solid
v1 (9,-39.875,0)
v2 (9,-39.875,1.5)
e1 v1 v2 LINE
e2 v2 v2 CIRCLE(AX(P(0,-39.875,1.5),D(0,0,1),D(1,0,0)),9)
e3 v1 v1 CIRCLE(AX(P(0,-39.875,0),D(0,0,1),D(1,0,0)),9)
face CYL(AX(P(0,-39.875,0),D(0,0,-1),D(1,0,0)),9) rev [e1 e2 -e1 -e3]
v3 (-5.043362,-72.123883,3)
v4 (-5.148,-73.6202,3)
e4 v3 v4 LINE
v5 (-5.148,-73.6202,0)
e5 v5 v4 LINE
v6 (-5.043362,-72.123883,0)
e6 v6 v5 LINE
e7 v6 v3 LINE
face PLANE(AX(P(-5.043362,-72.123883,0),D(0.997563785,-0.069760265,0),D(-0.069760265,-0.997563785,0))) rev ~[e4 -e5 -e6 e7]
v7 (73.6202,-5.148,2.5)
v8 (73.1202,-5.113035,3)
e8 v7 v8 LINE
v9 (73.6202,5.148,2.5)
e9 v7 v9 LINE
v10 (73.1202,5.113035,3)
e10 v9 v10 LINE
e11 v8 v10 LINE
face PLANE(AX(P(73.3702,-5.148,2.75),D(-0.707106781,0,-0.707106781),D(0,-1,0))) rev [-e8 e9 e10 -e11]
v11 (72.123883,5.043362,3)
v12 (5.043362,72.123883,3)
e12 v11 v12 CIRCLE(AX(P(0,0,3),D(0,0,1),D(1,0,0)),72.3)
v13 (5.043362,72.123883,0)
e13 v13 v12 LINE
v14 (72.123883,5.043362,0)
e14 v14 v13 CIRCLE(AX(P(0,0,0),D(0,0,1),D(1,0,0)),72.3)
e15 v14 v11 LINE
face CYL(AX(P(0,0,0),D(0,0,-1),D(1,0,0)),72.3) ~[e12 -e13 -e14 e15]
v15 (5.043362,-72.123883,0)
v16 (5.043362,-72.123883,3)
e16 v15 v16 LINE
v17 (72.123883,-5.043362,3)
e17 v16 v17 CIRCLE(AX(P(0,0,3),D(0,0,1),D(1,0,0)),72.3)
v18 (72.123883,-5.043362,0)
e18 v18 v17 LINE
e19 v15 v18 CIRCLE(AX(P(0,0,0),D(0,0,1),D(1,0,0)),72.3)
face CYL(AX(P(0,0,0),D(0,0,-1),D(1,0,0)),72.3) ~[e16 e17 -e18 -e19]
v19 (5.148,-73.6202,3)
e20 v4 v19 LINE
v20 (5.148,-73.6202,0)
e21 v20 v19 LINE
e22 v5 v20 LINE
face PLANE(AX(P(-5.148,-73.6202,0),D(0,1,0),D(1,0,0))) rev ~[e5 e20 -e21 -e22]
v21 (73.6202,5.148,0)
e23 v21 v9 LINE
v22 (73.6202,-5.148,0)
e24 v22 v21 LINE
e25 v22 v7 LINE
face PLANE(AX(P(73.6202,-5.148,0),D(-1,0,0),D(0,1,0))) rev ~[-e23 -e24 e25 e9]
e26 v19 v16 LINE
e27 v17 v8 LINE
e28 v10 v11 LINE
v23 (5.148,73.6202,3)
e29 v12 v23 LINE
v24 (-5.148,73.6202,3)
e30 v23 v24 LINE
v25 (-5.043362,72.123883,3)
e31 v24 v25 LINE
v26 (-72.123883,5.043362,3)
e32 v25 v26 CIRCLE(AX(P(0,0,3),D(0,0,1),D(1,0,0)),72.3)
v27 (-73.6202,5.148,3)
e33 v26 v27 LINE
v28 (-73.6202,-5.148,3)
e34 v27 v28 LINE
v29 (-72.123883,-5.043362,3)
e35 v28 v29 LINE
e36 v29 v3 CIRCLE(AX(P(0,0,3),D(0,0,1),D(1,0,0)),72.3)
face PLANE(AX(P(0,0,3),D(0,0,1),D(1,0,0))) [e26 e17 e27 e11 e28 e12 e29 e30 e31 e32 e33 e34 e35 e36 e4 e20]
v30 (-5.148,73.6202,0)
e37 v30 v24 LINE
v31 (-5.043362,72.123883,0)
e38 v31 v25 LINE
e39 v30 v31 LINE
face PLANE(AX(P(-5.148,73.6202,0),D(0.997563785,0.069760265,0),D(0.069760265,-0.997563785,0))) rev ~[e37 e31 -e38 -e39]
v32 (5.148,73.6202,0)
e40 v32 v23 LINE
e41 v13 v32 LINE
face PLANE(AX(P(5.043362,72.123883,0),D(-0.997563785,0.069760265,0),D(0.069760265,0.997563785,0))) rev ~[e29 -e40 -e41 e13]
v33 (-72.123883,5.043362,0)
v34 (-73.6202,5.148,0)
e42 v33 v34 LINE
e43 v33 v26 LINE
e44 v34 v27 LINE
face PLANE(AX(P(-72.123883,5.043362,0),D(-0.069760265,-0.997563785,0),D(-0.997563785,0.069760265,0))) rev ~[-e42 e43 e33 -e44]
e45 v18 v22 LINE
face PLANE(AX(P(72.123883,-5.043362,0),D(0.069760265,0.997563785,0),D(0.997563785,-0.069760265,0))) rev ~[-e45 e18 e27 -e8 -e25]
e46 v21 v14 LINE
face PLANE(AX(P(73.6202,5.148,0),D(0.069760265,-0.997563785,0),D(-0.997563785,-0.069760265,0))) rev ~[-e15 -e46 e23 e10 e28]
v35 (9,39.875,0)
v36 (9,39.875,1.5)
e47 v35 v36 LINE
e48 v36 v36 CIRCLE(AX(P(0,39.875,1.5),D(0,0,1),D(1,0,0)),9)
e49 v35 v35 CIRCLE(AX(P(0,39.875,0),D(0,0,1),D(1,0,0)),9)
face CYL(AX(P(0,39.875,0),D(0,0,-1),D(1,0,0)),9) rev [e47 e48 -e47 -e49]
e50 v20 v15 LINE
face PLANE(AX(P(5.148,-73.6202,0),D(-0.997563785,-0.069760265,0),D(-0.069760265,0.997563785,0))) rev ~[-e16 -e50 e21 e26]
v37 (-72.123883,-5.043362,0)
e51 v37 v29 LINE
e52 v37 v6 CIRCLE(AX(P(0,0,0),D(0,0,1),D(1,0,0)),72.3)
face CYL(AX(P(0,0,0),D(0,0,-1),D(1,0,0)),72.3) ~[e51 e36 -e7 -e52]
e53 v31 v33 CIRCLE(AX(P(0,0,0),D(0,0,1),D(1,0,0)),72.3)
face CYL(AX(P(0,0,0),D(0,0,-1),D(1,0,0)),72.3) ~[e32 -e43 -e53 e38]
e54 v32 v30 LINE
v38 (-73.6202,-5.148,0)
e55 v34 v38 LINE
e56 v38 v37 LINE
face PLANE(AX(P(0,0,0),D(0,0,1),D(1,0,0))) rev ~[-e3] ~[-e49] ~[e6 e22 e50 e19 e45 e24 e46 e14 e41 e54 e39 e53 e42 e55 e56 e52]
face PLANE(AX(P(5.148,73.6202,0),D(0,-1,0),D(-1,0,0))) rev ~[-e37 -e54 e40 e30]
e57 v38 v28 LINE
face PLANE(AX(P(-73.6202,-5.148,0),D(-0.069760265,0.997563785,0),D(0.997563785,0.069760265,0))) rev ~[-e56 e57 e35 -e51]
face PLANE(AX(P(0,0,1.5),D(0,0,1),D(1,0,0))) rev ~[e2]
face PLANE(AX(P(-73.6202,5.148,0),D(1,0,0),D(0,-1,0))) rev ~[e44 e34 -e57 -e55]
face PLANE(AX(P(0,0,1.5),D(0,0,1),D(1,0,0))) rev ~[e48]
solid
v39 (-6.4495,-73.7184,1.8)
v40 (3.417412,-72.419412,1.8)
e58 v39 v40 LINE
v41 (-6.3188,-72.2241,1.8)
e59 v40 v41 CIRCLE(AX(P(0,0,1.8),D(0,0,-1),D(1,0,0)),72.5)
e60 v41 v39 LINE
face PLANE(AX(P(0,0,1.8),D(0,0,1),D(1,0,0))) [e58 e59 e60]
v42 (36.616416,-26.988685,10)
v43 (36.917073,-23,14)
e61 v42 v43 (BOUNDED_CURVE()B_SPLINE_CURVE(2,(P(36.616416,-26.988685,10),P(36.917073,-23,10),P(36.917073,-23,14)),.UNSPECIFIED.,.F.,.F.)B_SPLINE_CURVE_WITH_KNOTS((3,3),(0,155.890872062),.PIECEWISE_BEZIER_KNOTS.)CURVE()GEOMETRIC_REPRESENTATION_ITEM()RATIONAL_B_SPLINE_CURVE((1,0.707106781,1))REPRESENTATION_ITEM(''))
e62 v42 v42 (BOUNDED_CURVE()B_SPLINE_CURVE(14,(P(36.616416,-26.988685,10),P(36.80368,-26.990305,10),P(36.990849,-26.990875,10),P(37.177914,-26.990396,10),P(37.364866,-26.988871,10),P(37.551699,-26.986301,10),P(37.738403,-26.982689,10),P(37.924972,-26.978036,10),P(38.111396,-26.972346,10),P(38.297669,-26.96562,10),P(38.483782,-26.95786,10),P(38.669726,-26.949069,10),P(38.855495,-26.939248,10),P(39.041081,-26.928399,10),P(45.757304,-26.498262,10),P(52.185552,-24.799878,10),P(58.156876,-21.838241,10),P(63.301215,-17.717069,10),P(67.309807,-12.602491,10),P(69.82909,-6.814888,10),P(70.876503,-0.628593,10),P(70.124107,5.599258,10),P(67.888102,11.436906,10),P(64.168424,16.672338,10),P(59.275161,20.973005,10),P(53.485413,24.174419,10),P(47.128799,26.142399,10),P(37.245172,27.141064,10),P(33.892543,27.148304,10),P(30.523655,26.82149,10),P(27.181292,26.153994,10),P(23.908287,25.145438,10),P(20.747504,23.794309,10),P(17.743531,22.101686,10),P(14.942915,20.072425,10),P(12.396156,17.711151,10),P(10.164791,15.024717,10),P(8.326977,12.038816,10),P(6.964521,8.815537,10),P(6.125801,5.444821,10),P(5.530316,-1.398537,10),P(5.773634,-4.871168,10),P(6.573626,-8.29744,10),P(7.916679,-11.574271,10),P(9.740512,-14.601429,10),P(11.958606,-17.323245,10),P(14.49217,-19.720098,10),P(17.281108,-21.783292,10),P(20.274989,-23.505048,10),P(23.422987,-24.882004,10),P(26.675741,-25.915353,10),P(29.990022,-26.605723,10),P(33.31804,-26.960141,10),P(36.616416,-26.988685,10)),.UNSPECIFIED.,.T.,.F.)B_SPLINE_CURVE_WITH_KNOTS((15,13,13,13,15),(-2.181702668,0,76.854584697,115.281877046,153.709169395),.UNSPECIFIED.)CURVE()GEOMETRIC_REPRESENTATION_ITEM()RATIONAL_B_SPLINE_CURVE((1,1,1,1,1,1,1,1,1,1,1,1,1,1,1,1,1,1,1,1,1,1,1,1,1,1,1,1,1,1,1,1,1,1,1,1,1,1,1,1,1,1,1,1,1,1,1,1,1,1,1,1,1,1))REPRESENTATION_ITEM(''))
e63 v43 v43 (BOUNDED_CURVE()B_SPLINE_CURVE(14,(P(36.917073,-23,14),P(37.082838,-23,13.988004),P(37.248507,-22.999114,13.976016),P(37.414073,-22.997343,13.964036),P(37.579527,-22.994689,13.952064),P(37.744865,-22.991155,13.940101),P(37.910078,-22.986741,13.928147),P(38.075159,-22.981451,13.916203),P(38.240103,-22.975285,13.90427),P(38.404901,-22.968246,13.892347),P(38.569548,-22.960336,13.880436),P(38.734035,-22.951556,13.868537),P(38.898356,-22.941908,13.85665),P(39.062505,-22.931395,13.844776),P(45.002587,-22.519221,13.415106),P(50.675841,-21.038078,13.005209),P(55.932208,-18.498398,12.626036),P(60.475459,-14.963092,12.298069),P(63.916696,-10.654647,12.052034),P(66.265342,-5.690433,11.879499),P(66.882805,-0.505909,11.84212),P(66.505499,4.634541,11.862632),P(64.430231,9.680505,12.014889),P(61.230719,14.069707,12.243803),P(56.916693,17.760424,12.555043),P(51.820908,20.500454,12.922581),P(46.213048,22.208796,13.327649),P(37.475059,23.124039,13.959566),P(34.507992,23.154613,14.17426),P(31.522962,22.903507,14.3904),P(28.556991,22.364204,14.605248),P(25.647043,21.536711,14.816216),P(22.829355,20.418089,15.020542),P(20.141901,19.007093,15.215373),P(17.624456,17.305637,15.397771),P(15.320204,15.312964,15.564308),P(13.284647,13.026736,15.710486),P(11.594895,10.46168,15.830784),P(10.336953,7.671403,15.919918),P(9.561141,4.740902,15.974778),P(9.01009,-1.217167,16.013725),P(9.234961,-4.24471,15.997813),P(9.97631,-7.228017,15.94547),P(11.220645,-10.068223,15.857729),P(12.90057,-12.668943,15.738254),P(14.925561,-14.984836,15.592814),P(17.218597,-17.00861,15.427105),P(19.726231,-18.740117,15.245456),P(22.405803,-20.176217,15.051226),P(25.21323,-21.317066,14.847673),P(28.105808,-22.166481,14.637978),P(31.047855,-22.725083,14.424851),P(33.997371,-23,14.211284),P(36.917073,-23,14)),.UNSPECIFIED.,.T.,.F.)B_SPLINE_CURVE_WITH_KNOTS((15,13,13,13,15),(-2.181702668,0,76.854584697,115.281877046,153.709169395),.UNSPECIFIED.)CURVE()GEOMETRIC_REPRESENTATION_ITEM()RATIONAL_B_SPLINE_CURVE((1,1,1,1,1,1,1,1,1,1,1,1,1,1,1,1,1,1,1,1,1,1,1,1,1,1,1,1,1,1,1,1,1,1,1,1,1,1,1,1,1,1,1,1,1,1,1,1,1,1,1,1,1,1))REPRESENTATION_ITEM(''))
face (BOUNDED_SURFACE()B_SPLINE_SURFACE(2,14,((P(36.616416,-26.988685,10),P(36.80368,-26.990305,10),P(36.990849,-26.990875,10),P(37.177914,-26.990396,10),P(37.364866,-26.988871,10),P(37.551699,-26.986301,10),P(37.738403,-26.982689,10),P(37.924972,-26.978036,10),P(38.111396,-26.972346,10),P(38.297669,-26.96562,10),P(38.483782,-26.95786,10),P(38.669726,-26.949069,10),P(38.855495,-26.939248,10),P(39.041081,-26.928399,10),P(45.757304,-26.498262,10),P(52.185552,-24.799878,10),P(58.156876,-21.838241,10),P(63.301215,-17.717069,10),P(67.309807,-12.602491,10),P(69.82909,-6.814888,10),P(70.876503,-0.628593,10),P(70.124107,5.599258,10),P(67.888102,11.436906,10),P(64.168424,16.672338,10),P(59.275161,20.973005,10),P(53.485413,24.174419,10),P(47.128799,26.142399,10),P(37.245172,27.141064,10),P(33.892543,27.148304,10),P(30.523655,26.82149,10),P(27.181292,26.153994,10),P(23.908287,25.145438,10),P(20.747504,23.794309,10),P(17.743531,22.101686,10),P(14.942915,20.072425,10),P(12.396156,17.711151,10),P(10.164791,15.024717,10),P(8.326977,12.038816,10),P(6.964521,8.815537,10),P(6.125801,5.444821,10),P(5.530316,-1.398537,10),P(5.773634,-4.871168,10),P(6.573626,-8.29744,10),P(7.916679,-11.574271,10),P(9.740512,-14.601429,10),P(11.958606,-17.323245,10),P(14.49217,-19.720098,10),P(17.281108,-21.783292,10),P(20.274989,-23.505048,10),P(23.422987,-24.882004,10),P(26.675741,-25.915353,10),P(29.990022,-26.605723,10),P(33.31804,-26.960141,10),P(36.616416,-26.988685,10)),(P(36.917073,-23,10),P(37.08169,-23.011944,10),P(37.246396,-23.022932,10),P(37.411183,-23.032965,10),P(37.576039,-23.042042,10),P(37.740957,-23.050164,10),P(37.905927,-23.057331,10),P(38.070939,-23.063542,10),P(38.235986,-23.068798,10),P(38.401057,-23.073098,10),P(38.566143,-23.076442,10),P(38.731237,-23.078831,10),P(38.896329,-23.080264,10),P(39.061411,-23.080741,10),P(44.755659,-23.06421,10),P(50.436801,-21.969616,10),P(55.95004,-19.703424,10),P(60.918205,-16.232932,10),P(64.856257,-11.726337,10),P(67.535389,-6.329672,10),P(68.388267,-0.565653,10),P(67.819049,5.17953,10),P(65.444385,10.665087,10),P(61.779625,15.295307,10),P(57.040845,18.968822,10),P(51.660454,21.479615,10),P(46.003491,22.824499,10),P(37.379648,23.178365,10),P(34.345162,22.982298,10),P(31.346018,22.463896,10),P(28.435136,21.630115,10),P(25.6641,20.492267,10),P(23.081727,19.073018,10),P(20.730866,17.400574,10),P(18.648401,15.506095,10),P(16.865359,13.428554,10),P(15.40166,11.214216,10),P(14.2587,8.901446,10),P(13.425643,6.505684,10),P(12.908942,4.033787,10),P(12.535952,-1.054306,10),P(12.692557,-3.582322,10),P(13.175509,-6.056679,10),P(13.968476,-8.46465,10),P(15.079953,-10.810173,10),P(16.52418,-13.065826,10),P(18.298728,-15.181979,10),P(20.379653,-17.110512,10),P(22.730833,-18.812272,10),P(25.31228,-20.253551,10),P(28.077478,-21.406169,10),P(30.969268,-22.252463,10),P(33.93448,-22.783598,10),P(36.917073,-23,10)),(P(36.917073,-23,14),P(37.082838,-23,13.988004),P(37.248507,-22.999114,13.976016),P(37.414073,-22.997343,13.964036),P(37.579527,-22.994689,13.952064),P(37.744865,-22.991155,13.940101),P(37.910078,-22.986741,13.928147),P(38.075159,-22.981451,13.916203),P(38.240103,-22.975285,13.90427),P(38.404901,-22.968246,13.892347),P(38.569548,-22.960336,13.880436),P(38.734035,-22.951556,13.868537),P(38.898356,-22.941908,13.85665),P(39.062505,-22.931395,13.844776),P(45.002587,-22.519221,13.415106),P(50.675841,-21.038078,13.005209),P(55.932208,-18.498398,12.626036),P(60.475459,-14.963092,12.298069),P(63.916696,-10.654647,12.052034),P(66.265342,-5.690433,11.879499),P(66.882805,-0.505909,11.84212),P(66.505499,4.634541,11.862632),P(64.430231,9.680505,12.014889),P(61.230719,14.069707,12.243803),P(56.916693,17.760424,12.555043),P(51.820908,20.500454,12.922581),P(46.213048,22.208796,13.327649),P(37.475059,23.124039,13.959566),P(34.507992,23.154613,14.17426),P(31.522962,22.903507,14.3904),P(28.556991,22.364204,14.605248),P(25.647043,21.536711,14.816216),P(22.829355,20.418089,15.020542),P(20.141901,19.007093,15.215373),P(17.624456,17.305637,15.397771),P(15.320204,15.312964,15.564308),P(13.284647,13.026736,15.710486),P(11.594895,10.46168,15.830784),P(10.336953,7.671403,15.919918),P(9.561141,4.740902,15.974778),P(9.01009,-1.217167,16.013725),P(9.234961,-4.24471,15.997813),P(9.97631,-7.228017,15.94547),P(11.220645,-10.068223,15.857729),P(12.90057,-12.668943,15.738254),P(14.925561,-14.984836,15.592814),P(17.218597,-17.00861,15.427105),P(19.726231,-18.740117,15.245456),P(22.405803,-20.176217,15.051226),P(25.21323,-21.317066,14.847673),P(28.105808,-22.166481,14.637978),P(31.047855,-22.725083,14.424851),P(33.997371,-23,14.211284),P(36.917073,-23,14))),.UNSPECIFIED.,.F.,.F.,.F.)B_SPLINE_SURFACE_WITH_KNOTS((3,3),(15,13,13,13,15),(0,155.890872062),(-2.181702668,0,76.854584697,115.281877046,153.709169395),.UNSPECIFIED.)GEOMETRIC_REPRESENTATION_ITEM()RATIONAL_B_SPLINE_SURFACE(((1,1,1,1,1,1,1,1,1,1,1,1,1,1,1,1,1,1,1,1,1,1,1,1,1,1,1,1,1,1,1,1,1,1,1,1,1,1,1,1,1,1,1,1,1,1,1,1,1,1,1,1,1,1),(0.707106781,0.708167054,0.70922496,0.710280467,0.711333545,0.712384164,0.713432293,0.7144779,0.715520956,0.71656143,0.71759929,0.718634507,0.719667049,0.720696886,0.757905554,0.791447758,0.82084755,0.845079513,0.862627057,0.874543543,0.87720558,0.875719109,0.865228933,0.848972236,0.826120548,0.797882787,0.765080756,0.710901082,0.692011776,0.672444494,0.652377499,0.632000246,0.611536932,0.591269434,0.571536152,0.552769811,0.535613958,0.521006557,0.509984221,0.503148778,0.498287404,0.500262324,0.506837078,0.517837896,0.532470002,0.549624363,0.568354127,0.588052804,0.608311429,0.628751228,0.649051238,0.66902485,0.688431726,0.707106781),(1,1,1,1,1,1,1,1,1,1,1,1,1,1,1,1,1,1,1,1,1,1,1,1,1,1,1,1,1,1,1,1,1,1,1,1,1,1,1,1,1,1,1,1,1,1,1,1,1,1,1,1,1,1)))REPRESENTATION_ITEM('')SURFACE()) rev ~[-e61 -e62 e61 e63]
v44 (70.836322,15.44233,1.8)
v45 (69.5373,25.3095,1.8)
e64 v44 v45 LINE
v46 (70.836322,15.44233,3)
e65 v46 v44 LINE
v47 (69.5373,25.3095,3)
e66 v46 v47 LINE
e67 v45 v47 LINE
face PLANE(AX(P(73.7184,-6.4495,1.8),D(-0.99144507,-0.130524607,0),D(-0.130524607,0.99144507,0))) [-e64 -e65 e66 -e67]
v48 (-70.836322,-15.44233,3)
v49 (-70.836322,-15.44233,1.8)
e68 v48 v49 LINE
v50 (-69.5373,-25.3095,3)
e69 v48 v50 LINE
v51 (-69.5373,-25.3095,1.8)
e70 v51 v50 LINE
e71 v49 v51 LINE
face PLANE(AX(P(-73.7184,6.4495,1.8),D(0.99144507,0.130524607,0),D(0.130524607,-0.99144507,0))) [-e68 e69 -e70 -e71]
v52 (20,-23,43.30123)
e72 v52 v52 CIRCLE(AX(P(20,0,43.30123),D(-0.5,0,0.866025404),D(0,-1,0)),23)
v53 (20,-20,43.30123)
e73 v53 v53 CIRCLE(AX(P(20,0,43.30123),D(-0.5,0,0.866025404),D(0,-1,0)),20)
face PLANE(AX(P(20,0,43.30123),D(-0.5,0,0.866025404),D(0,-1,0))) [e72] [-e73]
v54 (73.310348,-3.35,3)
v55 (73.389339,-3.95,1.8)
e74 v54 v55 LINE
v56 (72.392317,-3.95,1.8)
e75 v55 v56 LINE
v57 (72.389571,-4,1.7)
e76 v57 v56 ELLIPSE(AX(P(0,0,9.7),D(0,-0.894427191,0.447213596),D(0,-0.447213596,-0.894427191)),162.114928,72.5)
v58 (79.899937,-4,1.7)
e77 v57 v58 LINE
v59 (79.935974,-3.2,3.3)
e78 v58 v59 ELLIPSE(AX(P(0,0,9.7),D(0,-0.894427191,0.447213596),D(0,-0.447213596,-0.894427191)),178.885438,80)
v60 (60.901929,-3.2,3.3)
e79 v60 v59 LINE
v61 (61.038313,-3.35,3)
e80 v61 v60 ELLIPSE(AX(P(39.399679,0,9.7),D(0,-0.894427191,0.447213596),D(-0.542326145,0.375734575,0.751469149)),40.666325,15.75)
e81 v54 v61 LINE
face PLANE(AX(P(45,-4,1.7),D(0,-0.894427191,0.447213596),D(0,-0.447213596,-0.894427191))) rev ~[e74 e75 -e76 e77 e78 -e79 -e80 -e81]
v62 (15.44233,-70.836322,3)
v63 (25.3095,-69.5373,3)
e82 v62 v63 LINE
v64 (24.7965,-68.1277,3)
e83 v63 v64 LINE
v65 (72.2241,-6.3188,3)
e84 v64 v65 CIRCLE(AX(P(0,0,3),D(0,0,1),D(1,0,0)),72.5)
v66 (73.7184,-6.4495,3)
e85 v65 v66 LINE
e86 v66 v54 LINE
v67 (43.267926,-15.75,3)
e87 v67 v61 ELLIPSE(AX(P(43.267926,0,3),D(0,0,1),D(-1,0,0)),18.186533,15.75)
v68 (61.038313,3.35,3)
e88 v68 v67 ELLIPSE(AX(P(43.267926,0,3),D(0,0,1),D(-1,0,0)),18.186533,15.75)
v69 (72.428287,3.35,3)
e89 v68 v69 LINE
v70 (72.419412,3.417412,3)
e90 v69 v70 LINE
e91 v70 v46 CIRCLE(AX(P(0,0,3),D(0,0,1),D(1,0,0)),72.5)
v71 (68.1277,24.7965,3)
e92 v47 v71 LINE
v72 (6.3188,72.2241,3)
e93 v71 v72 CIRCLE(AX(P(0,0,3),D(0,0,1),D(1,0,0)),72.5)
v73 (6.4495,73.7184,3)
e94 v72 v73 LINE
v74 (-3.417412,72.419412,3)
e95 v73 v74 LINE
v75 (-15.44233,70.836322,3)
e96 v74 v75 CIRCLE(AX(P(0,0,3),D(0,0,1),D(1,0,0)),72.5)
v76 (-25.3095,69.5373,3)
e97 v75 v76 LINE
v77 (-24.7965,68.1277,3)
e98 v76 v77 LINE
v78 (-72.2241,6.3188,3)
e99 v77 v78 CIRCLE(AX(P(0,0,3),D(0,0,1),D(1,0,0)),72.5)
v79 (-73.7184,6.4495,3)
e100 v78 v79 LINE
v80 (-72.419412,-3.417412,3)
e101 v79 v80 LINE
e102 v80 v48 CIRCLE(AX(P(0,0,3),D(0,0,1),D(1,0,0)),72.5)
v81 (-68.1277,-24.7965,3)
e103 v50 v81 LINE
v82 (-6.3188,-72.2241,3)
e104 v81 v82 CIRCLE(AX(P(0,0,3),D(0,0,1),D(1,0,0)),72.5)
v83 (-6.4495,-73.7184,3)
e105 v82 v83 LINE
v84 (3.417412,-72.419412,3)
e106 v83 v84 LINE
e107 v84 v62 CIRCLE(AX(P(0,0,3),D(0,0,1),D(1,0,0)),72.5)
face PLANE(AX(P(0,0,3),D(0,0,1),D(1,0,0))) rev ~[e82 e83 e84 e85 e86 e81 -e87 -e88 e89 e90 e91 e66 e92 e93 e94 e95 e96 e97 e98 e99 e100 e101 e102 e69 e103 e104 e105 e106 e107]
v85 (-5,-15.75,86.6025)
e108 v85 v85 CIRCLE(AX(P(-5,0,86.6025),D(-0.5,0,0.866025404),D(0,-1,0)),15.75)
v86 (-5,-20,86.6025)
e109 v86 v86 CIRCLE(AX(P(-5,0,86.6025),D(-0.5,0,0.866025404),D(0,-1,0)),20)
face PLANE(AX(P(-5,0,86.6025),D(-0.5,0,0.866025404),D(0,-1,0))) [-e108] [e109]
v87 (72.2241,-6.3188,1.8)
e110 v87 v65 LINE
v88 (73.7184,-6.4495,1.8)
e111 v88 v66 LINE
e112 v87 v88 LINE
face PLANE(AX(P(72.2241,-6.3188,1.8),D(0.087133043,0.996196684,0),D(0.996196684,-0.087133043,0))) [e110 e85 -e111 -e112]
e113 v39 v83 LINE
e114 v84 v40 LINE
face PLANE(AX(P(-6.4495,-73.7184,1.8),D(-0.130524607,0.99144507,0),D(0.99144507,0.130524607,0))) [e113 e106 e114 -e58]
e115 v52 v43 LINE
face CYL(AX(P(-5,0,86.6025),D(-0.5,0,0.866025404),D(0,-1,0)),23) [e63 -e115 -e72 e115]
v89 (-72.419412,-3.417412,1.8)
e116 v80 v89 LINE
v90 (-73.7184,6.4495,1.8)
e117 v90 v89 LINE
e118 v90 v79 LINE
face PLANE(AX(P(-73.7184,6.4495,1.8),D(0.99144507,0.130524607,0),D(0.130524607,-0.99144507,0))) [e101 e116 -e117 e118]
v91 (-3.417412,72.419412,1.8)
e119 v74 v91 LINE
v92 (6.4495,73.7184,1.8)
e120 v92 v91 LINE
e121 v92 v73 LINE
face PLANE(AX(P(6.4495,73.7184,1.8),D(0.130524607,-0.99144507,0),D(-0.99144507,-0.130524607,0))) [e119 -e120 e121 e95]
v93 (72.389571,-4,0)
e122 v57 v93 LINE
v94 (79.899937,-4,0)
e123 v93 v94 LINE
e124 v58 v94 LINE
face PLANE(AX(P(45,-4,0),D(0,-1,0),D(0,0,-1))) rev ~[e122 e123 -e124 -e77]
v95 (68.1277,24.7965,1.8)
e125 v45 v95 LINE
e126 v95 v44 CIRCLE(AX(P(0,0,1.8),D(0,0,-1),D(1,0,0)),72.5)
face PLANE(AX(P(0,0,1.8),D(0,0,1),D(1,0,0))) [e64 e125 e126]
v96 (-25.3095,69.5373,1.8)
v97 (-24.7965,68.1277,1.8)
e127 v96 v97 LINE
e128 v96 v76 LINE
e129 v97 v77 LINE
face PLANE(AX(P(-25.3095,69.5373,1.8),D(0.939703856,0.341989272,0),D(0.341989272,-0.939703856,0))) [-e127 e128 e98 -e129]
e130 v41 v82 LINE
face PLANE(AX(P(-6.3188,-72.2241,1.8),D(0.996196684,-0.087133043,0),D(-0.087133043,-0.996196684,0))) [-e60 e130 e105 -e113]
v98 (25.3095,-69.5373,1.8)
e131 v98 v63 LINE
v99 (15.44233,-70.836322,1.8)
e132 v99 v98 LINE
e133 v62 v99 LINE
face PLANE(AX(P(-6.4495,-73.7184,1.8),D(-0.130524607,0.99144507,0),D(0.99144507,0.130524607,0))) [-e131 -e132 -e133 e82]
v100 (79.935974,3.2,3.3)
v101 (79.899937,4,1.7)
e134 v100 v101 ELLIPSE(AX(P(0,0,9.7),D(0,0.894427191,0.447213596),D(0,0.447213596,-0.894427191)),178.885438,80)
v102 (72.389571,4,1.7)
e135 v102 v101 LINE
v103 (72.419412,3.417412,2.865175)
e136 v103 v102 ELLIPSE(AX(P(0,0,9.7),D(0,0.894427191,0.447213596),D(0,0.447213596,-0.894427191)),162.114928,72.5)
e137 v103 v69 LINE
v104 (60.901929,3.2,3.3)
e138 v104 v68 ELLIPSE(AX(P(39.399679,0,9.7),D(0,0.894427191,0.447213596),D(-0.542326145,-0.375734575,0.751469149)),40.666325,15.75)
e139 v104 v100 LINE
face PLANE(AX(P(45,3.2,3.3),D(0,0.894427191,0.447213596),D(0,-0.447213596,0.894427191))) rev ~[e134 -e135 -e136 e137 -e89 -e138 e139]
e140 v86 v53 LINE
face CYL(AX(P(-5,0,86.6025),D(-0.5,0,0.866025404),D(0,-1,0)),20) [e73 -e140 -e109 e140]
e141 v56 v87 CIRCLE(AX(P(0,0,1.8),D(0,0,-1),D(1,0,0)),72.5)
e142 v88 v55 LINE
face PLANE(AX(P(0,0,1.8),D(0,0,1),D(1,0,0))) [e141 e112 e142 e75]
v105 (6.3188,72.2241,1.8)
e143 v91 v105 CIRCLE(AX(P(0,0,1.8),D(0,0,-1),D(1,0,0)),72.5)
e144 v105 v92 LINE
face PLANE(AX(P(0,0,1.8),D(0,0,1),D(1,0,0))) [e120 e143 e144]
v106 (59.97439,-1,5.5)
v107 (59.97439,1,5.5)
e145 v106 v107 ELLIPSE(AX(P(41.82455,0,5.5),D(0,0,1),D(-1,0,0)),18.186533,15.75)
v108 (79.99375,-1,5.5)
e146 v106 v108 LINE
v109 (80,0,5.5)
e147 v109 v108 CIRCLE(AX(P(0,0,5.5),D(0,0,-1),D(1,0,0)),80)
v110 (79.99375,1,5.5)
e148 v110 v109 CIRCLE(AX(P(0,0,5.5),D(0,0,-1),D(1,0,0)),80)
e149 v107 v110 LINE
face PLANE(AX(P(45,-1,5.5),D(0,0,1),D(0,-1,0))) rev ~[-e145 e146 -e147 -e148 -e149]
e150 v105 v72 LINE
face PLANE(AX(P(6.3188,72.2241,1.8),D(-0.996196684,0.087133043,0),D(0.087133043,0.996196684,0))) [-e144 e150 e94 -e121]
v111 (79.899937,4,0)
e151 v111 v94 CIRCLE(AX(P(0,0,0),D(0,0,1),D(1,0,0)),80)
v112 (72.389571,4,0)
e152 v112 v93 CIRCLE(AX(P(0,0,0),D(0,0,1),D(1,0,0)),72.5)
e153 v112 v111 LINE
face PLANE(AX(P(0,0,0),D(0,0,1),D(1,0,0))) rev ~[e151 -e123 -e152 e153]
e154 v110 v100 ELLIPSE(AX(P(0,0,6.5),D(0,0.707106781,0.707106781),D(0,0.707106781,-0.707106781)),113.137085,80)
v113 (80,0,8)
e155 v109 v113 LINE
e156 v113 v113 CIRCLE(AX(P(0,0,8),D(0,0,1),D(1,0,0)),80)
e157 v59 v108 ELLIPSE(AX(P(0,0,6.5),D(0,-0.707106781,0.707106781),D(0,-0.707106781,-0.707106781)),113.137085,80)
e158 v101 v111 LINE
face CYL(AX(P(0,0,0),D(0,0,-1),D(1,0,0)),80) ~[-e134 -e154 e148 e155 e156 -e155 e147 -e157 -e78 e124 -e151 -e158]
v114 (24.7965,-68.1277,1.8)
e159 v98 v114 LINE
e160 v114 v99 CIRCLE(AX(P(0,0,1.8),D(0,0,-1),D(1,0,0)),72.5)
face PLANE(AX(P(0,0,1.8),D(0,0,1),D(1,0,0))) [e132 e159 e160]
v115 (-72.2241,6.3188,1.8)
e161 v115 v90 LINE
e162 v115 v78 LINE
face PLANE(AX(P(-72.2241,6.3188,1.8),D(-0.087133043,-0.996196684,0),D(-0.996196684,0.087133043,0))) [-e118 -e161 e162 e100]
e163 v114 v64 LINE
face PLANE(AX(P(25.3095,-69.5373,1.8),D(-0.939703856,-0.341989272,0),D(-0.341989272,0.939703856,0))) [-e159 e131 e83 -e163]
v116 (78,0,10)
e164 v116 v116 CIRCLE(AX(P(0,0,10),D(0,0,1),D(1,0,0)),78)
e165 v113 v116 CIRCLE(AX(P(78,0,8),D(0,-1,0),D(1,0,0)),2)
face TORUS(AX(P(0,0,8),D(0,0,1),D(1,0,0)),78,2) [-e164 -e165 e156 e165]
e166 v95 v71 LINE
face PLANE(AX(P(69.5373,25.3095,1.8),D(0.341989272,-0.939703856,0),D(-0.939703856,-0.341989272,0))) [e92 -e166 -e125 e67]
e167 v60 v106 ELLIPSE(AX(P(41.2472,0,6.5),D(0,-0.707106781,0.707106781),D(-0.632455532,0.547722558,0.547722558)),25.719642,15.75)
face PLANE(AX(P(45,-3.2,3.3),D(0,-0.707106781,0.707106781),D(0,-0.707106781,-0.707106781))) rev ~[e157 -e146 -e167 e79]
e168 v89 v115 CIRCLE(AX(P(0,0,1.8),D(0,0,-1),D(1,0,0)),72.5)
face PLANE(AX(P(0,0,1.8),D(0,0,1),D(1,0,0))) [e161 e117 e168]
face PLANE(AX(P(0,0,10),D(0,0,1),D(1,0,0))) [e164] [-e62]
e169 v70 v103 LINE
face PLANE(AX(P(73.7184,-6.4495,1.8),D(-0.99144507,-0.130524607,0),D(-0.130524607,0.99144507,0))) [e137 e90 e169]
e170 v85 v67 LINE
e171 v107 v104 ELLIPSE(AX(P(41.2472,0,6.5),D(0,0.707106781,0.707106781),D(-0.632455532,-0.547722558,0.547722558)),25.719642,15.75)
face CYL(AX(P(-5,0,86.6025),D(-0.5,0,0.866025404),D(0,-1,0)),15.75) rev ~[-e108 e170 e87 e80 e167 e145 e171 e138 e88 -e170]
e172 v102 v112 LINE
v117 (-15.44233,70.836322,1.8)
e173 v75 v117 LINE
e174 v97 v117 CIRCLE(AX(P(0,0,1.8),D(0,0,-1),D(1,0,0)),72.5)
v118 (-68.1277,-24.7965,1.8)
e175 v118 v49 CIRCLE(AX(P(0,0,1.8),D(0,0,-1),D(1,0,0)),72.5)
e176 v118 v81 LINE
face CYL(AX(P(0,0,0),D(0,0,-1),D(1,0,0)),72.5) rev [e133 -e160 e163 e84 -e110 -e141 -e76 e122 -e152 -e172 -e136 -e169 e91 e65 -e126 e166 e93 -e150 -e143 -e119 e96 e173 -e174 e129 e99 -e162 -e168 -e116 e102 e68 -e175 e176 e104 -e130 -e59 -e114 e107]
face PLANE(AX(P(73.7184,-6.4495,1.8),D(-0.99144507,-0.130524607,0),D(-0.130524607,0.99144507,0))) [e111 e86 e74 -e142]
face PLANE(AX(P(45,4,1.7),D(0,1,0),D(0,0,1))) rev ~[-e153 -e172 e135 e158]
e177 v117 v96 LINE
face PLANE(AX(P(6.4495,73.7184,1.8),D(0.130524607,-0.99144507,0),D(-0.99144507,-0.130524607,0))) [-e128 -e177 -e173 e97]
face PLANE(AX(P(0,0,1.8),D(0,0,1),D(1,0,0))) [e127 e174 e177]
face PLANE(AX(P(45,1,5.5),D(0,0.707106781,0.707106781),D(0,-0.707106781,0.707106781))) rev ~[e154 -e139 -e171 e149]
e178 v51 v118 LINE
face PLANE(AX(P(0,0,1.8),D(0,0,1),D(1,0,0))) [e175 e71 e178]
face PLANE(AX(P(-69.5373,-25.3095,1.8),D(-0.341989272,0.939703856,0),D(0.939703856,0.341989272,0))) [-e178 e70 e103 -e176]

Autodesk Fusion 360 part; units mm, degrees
sketch "Skizze1" plane through (0, 0, 0) normal (0, 0, 1) x (1, 0, 0)
  circle A0 centre (0, 0) radius 80
extrude "Extrusion1" add sketch "Skizze1" along normal blind 10 makes body 1
fillet "Abrundung1" radius 2 1 edges at (-74.5862, -28.9292, 10) on bodies 1
sketch "Skizze2" plane through (0, 0, 0) normal (0, 1, 0) x (1, 0, 0)
  line L0 (45, 0) -> (-5, -86.6025) construction
ref_plane "Arbeitsebene1" through (-5, 0, 86.6025) normal (-0.5, 0, 0.866) x (0, -1, 0)
sketch "Skizze3" plane through (-5, 0, 86.6025) normal (-0.5, 0, 0.866) x (0, -1, 0)
  circle A0 centre (0, 0) radius 23
  circle A1 centre (0, 0) radius 20
extrude "Extrusion5" add sketch "Skizze3" against normal blind 110 separate body contours A0 | A1 makes body 2
combine "Kombinieren1" operation add target body 1 tool bodies 2
extrude "Extrusion6" cut sketch "Skizze3" against normal blind 50 bodies 1
fillet "Abrundung2" radius 4 3 edges at (65.7846, 0, 10) (-74.5862, -28.9292, 8) (-72.7215, 28.206, 10) on bodies 1
sketch "Skizze4" plane through (-5, 0, 86.6025) normal (-0.5, 0, 0.866) x (0, -1, 0)
  circle A0 centre (0, 0) radius 15.75
extrude "Extrusion7" cut sketch "Skizze4" against normal blind 110 bodies 1
sketch "Skizze5" plane through (0, 0, 0) normal (0, 0, 1) x (1, 0, 0)
  circle A0 centre (0, 0) radius 160
extrude "Extrusion8" cut sketch "Skizze5" against normal blind 110 bodies 1
sketch "Skizze6" plane through (0, 0, 0) normal (0, 0, 1) x (1, 0, 0)
  line L0 (45, 0) -> (85, 0)
ref_plane "Arbeitsebene2" through (45, 0, 0) normal (1, 0, 0) x (0, 1, 0)
sketch "Skizze7" plane through (45, 0, 0) normal (1, 0, 0) x (0, 1, 0)
  line L0 (-4, 0) -> (-4, 1.7)
  line L1 (-4, 1.7) -> (-3.2, 3.3)
  line L2 (-3.2, 3.3) -> (-1, 5.5)
  line L3 (-1, 5.5) -> (1, 5.5)
  line L4 (1, 5.5) -> (3.2, 3.3)
  line L5 (3.2, 3.3) -> (4, 1.7)
  line L6 (4, 1.7) -> (4, 0)
  line L7 (4, 0) -> (-4, 0)
sweep "Sweeping1" cut profiles "Skizze7" path "Skizze6" along L0 section 1 bodies 1
sketch "Skizze8" plane through (0, 0, 0) normal (0, 0, 1) x (1, 0, 0)
  circle A0 centre (0, 0) radius 72.5
extrude "Extrusion9" cut sketch "Skizze8" along normal blind 3 bodies 1
sketch "Skizze9" plane through (0, 0, 0) normal (0, 0, 1) x (1, 0, 0)
  line L0 (72.2241, -6.3188) -> (73.7184, -6.4495)
  line L1 (73.7184, -6.4495) -> (69.5373, 25.3095)
  line L2 (69.5373, 25.3095) -> (68.1277, 24.7965)
  line L3 (68.1277, 24.7965) -> (72.2241, -6.3188)
  line L4 (6.3188, 72.2241) -> (6.4495, 73.7184)
  line L5 (6.4495, 73.7184) -> (-25.3095, 69.5373)
  line L6 (-25.3095, 69.5373) -> (-24.7965, 68.1277)
  line L7 (-24.7965, 68.1277) -> (6.3188, 72.2241)
  line L8 (-72.2241, 6.3188) -> (-73.7184, 6.4495)
  line L9 (-73.7184, 6.4495) -> (-69.5373, -25.3095)
  line L10 (-69.5373, -25.3095) -> (-68.1277, -24.7965)
  line L11 (-68.1277, -24.7965) -> (-72.2241, 6.3188)
  line L12 (-6.3188, -72.2241) -> (-6.4495, -73.7184)
  line L13 (-6.4495, -73.7184) -> (25.3095, -69.5373)
  line L14 (25.3095, -69.5373) -> (24.7965, -68.1277)
  line L15 (24.7965, -68.1277) -> (-6.3188, -72.2241)
extrude "Extrusion10" cut sketch "Skizze9" along normal blind 1.2 from surface at 1.8 bodies 1
sketch "Skizze10" plane through (0, 0, 0) normal (0, 0, 1) x (1, 0, 0)
  circle A0 centre (0, 0) radius 72.3
  line L0 (71.1263, -4.9736) -> (73.6202, -5.148)
  line L1 (73.6202, -5.148) -> (73.6202, 5.148)
  line L2 (73.6202, 5.148) -> (71.1263, 4.9736)
  line L3 (71.1263, 4.9736) -> (71.1263, -4.9736)
  line L4 (4.9736, 71.1263) -> (5.148, 73.6202)
  line L5 (5.148, 73.6202) -> (-5.148, 73.6202)
  line L6 (-5.148, 73.6202) -> (-4.9736, 71.1263)
  line L7 (-4.9736, 71.1263) -> (4.9736, 71.1263)
  line L8 (-71.1263, 4.9736) -> (-73.6202, 5.148)
  line L9 (-73.6202, 5.148) -> (-73.6202, -5.148)
  line L10 (-73.6202, -5.148) -> (-71.1263, -4.9736)
  line L11 (-71.1263, -4.9736) -> (-71.1263, 4.9736)
  line L12 (-4.9736, -71.1263) -> (-5.148, -73.6202)
  line L13 (-5.148, -73.6202) -> (5.148, -73.6202)
  line L14 (5.148, -73.6202) -> (4.9736, -71.1263)
  line L15 (4.9736, -71.1263) -> (-4.9736, -71.1263)
extrude "Extrusion11" add sketch "Skizze10" along normal blind 3 separate body makes body 3
sketch "Skizze11" plane through (0, 0, 0) normal (0, 0, 1) x (1, 0, 0)
  circle A0 centre (0, 39.875) radius 9
  circle A1 centre (0, -39.875) radius 9
extrude "Extrusion12" cut sketch "Skizze11" along normal blind 1.5 bodies 3
chamfer "Fase1" distance 0.5 angle 45 1 edges at (73.6202, 0, 3) on bodies 3
equation "base_plate_diameter = 160 mm"
equation "base_plate_height = 10 mm"
equation "base_plate_rounding = 2 mm"
equation "leg_outer_diameter = 46 mm"
equation "ring_inner_diameter = 40 mm"
equation "ring_extrude_depth = 50 mm"
equation "hole_inner_diameter = 31.5 mm"
equation "leg_length = 100 mm"
equation "leg_angle = 120 deg"
equation "leg_offset = 45 mm"
equation "leg_plate_rounding = 4 mm"
equation "cable_channel_width = 8 mm"
equation "cable_channel_depth = 5.5 mm"
equation "cable_channel_vertical_height = 2.5 mm"
equation "cable_channel_edge_chamfer = 0.8 mm"
equation "cover_plate_diameter = 145 mm"
equation "cover_plate_thickness = 3 mm"
equation "finger_grip_diameter = 18 mm"
equation "finger_grip_depth = 1.5 mm"
equation "clamp_recess_width = 22 mm"
equation "clamp_recess_length = 12 mm"
equation "clamp_recess_depth = 2.5 mm"
equation "strain_relief_screw_diameter = 2.6 mm"
equation "strain_relief_screw_depth = 6 mm"
equation "d25 = base_plate_height"
equation "d28 = base_plate_rounding"
equation "d41 = leg_plate_rounding"
equation "d53 = cover_plate_thickness"
equation "d58 = cover_plate_thickness"
equation "d60 = finger_grip_depth"
